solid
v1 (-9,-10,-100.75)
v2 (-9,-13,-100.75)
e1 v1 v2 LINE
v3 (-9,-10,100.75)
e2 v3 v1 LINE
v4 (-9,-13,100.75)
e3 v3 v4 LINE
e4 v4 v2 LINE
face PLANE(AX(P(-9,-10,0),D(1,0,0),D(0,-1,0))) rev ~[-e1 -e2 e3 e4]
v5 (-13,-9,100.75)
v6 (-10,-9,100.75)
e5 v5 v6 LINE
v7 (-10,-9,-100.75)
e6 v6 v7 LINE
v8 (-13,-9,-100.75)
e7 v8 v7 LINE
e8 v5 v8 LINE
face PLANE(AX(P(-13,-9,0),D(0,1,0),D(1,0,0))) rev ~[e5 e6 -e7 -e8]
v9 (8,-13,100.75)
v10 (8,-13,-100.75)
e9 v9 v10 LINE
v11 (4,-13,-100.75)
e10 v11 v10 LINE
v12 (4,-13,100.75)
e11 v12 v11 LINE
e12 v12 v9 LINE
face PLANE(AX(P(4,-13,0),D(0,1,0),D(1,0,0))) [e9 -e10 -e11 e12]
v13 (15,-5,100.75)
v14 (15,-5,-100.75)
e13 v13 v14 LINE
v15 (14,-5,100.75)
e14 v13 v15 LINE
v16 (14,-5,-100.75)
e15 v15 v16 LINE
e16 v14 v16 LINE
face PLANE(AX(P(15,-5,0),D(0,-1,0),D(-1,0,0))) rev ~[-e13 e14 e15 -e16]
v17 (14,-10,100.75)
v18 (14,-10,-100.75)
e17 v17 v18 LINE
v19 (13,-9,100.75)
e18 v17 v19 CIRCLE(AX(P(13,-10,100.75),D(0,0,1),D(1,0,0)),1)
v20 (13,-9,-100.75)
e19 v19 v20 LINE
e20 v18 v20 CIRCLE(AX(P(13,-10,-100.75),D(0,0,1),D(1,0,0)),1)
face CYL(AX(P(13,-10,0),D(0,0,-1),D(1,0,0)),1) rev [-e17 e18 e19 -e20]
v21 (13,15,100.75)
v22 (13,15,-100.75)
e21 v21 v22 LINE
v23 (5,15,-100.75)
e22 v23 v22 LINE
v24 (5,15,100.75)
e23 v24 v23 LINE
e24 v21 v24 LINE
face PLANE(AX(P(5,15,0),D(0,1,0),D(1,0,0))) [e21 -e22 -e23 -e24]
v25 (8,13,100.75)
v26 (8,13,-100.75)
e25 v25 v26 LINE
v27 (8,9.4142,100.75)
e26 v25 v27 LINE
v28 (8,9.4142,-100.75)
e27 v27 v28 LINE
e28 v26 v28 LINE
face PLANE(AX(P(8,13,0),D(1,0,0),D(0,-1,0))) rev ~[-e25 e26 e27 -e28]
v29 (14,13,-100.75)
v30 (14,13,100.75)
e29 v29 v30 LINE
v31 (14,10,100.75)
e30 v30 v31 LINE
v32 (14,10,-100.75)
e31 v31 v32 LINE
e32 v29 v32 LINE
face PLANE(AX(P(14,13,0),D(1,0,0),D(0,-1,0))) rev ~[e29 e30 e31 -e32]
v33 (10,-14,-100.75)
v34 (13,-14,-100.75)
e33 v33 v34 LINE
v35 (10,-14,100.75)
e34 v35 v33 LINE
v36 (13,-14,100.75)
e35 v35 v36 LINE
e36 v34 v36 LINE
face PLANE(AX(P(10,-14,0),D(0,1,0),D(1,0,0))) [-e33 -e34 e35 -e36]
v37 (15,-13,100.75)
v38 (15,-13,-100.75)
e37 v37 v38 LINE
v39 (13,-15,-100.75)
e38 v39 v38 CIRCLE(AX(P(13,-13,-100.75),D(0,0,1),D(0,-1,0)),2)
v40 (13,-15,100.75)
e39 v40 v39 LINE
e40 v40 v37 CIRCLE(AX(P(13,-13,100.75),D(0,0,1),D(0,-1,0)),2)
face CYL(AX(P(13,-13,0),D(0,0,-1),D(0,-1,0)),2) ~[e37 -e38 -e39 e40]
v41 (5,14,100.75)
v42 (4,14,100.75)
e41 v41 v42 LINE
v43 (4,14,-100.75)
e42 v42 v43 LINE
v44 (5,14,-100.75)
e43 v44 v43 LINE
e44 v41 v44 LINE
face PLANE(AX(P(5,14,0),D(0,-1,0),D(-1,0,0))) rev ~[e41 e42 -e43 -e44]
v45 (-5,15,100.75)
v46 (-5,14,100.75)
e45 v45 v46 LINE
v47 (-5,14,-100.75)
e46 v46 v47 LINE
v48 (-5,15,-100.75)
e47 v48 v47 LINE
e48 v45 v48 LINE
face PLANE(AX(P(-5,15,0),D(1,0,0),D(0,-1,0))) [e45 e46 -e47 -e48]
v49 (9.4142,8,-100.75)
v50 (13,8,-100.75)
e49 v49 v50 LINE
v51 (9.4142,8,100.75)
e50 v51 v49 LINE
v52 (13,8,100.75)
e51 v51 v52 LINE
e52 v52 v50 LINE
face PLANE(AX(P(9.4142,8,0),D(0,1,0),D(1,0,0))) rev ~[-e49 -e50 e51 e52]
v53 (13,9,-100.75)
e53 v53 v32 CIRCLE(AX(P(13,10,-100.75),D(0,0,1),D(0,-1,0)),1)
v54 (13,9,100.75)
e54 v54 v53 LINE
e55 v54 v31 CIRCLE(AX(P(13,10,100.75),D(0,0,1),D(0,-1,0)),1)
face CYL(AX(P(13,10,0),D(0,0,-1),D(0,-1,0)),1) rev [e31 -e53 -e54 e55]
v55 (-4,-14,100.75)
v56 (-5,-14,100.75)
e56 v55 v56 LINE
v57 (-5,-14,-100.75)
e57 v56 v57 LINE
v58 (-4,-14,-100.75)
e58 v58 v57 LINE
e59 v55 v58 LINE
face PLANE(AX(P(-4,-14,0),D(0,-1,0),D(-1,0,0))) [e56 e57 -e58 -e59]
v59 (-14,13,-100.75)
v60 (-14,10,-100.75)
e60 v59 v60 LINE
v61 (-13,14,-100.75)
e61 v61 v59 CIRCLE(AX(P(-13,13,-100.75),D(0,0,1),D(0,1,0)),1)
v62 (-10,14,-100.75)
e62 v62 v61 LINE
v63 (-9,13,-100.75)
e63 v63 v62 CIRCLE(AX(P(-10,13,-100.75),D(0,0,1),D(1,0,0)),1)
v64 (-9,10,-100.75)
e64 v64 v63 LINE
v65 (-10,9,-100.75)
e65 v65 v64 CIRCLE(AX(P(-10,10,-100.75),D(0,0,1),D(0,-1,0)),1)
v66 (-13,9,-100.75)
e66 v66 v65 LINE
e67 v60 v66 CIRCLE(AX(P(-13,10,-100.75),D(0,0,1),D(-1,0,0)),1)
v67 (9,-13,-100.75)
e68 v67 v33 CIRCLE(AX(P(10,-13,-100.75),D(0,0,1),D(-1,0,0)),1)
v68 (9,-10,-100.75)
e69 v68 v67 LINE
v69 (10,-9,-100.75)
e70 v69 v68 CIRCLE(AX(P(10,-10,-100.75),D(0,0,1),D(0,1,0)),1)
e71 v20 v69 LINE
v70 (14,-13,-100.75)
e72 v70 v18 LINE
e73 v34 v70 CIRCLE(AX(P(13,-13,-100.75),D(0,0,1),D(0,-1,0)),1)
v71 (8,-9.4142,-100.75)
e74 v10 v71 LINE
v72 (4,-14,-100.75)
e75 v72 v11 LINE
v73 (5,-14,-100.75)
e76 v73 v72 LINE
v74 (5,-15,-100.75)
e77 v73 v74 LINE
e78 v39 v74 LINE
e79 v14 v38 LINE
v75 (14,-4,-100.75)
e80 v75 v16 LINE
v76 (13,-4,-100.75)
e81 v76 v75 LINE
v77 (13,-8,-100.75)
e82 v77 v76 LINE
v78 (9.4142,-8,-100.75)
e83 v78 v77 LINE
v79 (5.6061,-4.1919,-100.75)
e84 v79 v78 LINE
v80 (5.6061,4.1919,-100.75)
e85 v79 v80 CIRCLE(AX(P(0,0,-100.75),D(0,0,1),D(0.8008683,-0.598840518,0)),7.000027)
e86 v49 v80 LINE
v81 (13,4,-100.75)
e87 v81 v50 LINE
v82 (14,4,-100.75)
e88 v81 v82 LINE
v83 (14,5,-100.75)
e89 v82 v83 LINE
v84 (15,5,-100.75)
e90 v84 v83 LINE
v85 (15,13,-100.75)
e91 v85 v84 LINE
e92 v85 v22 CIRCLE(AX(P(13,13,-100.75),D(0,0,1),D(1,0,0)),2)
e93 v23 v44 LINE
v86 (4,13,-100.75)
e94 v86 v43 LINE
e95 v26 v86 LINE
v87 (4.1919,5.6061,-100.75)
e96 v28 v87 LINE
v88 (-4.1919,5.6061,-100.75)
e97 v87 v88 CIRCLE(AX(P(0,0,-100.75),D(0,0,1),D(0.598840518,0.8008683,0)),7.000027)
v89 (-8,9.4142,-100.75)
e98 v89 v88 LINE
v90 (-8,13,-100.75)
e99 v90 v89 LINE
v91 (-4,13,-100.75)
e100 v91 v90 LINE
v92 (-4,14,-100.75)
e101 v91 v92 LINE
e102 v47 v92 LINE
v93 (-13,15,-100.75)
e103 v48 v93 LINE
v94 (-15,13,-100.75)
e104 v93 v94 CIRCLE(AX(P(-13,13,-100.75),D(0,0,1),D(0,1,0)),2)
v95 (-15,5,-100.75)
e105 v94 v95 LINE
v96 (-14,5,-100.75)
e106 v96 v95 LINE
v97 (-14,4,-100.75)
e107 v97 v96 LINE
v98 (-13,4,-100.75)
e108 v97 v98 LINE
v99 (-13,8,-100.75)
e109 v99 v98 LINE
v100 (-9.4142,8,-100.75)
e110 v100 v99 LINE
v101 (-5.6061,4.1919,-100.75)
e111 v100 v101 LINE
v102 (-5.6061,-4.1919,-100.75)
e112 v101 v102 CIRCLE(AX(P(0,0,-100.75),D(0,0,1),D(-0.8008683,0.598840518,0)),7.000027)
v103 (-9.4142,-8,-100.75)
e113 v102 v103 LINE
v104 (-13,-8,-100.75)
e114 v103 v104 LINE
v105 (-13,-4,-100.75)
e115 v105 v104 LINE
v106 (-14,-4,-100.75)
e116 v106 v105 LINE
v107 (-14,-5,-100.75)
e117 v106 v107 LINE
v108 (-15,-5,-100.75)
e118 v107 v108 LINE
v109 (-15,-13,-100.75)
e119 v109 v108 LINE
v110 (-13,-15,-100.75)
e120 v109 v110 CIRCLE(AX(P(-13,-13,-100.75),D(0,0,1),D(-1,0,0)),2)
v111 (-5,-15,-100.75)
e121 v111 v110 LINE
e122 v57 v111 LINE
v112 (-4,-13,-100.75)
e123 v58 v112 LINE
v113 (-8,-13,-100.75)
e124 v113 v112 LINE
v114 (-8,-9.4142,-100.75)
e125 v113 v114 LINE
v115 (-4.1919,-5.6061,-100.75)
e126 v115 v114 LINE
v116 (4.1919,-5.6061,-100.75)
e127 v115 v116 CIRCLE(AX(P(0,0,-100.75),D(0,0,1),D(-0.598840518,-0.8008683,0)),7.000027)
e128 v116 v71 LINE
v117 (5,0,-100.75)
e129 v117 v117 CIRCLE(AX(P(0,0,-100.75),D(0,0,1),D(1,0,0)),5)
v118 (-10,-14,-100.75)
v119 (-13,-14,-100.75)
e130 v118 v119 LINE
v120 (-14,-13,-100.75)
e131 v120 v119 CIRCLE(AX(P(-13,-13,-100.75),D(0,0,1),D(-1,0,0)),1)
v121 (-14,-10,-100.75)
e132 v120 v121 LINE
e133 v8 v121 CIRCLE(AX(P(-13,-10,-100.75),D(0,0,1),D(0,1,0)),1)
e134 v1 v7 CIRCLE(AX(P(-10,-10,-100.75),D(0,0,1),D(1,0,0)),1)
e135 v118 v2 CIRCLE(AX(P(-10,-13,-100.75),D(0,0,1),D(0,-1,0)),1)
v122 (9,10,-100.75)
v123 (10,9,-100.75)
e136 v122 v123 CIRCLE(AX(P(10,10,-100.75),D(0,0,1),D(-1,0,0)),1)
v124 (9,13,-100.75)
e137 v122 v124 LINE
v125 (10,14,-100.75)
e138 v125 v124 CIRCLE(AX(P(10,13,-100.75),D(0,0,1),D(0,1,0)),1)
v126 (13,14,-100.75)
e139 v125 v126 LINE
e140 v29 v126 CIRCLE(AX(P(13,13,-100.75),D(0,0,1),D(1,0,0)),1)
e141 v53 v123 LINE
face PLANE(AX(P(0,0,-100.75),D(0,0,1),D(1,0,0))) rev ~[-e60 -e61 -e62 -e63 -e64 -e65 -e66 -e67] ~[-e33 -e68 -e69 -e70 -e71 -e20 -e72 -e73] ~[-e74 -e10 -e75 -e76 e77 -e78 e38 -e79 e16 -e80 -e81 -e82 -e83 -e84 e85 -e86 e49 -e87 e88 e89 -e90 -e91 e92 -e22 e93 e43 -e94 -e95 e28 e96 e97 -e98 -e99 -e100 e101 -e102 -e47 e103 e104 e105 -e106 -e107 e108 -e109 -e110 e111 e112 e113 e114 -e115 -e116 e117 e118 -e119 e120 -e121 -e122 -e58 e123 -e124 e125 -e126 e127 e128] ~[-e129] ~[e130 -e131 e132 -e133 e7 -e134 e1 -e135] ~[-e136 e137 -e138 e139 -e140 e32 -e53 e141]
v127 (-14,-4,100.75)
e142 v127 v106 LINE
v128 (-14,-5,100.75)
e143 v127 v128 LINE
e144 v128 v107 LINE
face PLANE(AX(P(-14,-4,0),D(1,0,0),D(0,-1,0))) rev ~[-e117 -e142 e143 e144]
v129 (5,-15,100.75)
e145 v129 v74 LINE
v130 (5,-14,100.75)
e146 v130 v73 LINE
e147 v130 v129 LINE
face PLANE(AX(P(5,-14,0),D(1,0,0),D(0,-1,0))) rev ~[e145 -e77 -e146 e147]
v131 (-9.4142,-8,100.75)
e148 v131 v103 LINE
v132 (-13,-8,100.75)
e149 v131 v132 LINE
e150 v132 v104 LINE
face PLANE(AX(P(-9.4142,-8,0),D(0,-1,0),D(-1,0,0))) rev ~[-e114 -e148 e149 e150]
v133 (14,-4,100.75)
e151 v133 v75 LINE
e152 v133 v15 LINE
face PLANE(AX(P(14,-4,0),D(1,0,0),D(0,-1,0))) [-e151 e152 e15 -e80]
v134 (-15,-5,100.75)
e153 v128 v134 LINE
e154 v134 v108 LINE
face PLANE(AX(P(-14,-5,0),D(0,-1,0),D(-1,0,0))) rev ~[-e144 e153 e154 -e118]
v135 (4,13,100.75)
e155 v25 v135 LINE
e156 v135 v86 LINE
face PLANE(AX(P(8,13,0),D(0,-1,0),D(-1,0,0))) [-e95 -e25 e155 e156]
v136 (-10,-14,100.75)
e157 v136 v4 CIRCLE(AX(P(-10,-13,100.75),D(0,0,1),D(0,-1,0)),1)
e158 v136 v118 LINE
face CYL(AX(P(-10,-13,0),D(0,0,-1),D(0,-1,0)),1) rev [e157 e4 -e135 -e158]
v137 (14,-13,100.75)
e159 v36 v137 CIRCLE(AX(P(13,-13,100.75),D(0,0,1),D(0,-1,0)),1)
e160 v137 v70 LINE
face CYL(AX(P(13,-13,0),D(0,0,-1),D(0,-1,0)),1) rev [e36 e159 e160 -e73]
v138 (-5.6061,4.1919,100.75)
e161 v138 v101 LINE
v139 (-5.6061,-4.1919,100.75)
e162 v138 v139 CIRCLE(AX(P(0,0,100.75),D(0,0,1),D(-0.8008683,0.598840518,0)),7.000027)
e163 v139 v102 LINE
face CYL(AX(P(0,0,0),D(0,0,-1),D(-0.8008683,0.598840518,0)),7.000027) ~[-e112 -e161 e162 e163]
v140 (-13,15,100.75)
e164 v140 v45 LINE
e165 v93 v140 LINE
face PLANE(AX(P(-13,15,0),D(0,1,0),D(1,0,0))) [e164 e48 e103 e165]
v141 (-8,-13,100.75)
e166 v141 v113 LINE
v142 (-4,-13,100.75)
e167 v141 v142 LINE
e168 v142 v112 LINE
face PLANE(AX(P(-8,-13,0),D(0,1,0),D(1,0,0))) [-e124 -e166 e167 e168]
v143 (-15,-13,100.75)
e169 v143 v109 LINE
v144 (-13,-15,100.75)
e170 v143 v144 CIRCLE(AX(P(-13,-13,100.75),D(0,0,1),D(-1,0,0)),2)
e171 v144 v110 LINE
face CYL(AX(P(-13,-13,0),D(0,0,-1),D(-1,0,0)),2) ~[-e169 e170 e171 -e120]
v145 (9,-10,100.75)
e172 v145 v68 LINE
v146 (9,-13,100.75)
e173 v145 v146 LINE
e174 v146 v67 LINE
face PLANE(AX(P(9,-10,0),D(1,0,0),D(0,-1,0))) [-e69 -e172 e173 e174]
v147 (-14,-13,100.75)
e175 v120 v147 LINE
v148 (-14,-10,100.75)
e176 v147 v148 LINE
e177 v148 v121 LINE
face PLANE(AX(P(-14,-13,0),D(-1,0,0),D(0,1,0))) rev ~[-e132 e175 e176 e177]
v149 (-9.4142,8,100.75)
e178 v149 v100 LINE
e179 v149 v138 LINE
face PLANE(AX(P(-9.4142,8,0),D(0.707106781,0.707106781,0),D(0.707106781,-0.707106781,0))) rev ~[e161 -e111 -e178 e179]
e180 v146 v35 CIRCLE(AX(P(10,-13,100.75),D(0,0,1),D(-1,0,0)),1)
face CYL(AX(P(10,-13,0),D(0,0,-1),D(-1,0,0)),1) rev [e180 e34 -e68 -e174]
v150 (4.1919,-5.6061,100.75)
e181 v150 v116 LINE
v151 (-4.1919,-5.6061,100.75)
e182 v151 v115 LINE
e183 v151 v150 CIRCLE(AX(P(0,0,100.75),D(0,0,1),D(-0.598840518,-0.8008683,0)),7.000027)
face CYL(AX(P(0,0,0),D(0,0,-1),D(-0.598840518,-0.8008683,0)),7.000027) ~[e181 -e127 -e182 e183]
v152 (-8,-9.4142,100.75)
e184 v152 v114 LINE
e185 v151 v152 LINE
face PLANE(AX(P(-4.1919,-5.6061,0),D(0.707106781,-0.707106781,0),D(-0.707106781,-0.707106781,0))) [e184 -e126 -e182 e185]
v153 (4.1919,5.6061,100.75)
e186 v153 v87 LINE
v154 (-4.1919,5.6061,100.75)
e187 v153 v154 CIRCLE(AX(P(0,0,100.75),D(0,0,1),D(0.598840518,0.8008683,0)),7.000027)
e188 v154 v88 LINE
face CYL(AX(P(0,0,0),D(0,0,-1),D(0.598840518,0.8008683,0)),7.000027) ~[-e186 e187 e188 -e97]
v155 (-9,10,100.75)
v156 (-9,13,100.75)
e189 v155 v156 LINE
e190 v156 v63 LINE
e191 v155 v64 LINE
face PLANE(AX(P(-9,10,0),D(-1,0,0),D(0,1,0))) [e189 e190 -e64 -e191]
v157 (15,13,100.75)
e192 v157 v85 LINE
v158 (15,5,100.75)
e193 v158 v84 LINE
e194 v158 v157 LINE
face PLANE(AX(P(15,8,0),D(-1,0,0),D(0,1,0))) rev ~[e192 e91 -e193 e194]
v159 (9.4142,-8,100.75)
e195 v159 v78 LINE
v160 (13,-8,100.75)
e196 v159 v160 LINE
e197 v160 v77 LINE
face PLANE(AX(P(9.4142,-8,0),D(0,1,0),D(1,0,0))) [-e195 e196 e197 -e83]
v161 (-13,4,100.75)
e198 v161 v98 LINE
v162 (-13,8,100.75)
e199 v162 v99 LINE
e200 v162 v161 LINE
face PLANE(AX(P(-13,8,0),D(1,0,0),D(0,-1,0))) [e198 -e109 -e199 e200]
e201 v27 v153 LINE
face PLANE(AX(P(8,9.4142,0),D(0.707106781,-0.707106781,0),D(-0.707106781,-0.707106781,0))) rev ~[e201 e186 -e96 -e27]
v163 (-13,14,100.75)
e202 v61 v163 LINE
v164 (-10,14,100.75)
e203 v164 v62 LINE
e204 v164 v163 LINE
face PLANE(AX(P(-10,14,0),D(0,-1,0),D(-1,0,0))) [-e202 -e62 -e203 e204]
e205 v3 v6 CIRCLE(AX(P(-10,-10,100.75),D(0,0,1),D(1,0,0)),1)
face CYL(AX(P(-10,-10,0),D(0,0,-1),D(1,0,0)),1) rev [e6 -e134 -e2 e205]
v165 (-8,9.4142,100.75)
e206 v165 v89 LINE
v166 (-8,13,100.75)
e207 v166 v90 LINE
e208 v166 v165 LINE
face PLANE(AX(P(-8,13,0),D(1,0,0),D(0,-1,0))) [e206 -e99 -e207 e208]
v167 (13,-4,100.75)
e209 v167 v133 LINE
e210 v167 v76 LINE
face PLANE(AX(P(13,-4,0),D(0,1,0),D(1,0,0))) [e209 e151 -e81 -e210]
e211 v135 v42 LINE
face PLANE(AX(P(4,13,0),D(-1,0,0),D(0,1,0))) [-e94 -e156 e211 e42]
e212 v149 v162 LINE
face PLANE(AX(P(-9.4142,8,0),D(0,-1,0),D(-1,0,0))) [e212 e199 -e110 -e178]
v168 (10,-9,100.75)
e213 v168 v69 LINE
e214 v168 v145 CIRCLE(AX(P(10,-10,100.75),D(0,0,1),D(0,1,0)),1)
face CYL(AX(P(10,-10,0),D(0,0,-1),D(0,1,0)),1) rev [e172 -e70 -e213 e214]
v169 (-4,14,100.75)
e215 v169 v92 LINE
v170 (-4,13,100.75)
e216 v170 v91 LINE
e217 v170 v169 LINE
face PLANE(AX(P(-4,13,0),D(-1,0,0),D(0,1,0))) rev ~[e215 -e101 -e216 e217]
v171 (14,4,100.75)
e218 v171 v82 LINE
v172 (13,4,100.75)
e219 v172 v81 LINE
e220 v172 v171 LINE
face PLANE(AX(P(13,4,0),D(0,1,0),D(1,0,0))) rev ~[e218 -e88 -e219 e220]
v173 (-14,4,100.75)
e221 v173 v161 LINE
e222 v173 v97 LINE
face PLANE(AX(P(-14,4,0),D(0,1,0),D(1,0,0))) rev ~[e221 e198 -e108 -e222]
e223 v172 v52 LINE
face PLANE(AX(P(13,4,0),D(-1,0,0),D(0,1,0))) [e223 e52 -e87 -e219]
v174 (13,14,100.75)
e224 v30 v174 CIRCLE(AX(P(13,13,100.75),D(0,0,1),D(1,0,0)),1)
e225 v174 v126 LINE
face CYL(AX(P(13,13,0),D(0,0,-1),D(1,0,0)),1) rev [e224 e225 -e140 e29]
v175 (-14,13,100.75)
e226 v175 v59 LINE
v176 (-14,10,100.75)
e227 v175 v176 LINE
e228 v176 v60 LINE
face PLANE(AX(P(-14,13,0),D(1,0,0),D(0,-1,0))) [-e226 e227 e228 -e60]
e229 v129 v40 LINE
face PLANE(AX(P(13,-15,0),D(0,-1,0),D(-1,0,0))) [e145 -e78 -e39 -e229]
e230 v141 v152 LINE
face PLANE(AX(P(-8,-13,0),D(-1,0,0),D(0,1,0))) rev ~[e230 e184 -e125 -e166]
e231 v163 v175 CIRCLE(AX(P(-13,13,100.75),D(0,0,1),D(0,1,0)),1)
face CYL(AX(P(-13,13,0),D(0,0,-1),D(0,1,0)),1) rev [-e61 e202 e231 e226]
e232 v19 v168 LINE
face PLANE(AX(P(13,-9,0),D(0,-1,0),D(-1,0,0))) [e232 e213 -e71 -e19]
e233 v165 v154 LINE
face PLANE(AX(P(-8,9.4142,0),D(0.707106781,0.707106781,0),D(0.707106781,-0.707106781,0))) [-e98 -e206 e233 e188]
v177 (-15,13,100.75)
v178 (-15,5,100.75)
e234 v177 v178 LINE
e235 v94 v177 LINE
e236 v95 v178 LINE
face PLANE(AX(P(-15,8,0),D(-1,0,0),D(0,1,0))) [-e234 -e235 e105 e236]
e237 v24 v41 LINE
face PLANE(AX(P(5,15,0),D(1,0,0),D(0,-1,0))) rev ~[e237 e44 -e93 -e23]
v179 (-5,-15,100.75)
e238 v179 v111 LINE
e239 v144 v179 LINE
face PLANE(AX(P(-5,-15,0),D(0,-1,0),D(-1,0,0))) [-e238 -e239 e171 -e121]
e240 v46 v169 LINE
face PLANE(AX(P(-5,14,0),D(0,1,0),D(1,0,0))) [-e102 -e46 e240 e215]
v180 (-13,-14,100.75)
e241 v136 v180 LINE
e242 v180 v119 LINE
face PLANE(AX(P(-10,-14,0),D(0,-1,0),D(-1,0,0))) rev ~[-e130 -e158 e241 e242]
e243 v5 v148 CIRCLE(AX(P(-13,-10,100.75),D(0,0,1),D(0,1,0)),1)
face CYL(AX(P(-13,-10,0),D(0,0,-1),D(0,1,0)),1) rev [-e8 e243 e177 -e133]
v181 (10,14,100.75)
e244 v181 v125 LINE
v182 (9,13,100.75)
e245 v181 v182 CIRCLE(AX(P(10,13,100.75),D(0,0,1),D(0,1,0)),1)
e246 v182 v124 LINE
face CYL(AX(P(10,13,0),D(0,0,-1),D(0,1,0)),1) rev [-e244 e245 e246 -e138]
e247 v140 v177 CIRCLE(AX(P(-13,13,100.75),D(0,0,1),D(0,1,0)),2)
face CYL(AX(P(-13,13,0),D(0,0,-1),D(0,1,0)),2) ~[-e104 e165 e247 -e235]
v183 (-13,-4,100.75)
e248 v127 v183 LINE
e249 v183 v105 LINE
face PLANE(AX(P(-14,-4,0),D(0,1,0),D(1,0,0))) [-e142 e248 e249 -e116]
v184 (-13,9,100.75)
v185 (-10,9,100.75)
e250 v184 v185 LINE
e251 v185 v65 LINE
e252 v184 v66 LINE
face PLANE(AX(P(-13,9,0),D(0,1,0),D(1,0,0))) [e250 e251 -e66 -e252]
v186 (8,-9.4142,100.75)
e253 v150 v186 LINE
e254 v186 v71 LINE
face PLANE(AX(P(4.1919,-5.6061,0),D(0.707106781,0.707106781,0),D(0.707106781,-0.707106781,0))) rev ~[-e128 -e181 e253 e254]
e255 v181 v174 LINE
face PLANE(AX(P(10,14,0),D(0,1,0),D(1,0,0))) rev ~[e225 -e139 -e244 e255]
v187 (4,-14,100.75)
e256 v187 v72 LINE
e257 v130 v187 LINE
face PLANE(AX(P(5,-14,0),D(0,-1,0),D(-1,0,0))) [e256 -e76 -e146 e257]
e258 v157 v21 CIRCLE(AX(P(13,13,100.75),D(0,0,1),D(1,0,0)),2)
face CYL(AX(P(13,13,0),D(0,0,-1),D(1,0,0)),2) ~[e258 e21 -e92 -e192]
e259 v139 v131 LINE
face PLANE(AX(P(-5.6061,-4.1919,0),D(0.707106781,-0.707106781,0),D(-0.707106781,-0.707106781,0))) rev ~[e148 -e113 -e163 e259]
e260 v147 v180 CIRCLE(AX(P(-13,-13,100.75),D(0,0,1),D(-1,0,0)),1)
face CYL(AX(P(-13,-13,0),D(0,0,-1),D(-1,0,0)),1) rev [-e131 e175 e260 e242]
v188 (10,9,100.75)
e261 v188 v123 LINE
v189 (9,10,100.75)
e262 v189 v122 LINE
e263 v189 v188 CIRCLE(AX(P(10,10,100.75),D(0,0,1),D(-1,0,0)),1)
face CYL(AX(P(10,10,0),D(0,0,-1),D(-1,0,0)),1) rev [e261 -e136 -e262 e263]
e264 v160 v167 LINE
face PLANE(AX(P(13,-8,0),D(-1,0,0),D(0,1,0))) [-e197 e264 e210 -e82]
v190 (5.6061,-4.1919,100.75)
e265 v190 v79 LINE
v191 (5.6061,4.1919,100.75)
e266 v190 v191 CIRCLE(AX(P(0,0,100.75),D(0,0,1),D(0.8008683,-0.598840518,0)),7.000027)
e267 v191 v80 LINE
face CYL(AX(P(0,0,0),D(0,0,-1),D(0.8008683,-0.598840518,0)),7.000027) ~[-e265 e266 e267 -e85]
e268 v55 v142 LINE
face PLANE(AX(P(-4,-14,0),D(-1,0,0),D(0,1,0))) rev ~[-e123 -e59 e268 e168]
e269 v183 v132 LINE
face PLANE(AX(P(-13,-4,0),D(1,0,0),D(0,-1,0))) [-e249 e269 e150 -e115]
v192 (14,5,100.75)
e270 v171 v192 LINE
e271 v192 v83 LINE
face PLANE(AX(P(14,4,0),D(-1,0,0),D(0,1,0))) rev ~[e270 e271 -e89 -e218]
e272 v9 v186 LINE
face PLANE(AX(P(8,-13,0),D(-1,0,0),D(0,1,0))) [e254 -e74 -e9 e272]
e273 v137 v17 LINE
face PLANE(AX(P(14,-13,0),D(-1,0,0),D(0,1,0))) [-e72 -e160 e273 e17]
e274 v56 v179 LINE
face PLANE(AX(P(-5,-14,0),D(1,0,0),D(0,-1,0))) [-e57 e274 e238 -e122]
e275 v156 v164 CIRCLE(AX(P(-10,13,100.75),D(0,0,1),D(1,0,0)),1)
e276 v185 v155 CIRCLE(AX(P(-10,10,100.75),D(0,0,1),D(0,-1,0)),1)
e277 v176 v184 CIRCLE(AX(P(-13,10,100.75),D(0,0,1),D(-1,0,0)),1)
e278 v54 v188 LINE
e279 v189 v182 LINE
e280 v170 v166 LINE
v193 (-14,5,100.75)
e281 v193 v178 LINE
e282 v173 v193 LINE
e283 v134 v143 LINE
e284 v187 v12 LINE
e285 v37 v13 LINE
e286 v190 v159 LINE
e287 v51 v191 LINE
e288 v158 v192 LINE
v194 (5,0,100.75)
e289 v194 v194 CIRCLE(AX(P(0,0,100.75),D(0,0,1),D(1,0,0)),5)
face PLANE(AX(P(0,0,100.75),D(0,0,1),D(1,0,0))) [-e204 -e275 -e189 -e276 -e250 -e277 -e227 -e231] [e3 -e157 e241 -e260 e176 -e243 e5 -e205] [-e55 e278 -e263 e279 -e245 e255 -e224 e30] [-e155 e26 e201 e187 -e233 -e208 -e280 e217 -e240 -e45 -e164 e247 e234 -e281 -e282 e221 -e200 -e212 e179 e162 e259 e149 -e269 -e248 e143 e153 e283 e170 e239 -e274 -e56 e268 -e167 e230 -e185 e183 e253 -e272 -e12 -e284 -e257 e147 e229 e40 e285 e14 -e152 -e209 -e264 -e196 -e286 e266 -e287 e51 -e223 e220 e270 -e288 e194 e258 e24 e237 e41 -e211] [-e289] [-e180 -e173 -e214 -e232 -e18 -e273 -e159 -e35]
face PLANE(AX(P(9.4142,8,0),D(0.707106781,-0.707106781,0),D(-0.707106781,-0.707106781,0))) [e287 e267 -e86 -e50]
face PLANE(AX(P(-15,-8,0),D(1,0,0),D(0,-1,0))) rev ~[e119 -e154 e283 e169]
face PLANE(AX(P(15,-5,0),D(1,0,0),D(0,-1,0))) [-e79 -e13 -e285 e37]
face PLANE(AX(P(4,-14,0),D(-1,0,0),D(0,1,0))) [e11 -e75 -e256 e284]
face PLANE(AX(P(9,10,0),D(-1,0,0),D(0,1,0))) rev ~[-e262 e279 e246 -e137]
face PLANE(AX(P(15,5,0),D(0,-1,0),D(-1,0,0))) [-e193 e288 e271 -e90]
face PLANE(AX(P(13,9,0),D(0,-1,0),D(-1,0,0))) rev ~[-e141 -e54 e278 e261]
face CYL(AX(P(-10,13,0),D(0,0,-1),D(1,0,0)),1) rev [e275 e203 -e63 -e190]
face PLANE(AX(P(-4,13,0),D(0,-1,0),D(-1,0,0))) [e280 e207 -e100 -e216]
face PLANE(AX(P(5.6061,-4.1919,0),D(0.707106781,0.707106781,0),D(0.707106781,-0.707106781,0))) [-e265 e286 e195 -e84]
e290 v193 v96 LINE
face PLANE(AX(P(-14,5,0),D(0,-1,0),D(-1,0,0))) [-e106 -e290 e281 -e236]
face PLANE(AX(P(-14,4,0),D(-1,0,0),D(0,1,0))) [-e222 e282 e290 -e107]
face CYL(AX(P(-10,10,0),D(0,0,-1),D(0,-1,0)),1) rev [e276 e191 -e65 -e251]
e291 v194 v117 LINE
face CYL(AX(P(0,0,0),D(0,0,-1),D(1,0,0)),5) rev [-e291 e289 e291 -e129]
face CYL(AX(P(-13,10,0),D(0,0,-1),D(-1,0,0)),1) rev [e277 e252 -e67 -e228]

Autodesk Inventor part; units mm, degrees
ref_plane "YZ Plane" through (0, 0, 0) normal (1, 0, 0) x (0, 1, 0)
ref_plane "XZ Plane" through (0, 0, 0) normal (0, 1, 0) x (-1, 0, 0)
ref_plane "XY Plane" through (0, 0, 0) normal (0, 0, 1) x (1, 0, 0)
sketch "Sketch1" plane through (0, 0, 0) normal (0, 0, 1) x (1, 0, 0)
  circle A0 centre (0, 0) radius 5
  arc A1 (-13, 15) -> (-15, 13) centre (-13, 13) ccw
  arc A2 (-15, -13) -> (-13, -15) centre (-13, -13) ccw
  arc A3 (13, -15) -> (15, -13) centre (13, -13) ccw
  arc A4 (15, 13) -> (13, 15) centre (13, 13) ccw
  arc A5 (-13, 14) -> (-14, 13) centre (-13, 13) ccw
  arc A6 (-14, -13) -> (-13, -14) centre (-13, -13) ccw
  arc A7 (13, -14) -> (14, -13) centre (13, -13) ccw
  arc A8 (14, 13) -> (13, 14) centre (13, 13) ccw
  line L0 (14, -14) -> (-14, 14) construction
  line L1 (-14, -14) -> (14, 14) construction
  line L2 (15, -15) -> (-15, 15) construction
  line L3 (-15, -15) -> (15, 15) construction
  line L4 (-13, 15) -> (-8, 15)
  line L5 (-8, 13) -> (-8, 8) construction
  line L6 (-9.4142, 8) -> (-13, 8)
  line L7 (-15, 8) -> (-15, 13)
  line L8 (-13, -15) -> (-8, -15)
  line L9 (-8, -13) -> (-8, -9.4142)
  line L10 (-9.4142, -8) -> (-13, -8)
  line L11 (-15, -8) -> (-15, -13)
  line L12 (13, -15) -> (8, -15)
  line L13 (8, -13) -> (8, -9.4142)
  line L14 (9.4142, -8) -> (13, -8)
  line L15 (15, -8) -> (15, -13)
  line L16 (13, 15) -> (8, 15)
  line L17 (8, 13) -> (8, 9.4142)
  line L18 (9.4142, 8) -> (13, 8)
  line L19 (15, 8) -> (15, 13)
  line L20 (-13, 9) -> (-10, 9)
  line L21 (-9, 10) -> (-9, 13)
  line L22 (-10, 14) -> (-13, 14)
  line L23 (-14, 13) -> (-14, 10)
  line L24 (13, 9) -> (10, 9)
  line L25 (9, 10) -> (9, 13)
  line L26 (10, 14) -> (13, 14)
  line L27 (14, 13) -> (14, 10)
  line L28 (13, -9) -> (10, -9)
  line L29 (9, -10) -> (9, -13)
  line L30 (10, -14) -> (13, -14)
  line L31 (14, -13) -> (14, -10)
  line L32 (-13, -9) -> (-10, -9)
  line L33 (-9, -10) -> (-9, -13)
  line L34 (-10, -14) -> (-13, -14)
  line L35 (-14, -13) -> (-14, -10)
  line L36 (-14, 13) -> (-14, 10)
  line L37 (-14, -10) -> (-14, -13)
  line L38 (-14, -13) -> (-14, -10)
  line L39 (-14, 10) -> (-14, 13)
  line L40 (13, -15) -> (5, -15)
  line L41 (-5, -15) -> (-13, -15)
  line L42 (13, -15) -> (5, -15) construction
  line L43 (0, -15) -> (-13, -15) construction
  line L44 (4, -13) -> (8, -13)
  line L45 (-8, -13) -> (-4, -13)
  line L46 (10, -9) -> (13, -9)
  line L47 (14, -10) -> (14, -13)
  line L48 (13, -14) -> (10, -14)
  line L49 (9, -13) -> (9, -10)
  line L50 (5, -14) -> (5, -15)
  line L51 (13, -14) -> (10, -14)
  line L52 (5, -14) -> (4, -14)
  line L53 (4, -14) -> (5, -14)
  line L54 (10, -14) -> (13, -14)
  line L55 (-4, -14) -> (-5, -14)
  line L56 (-10, -14) -> (-13, -14)
  line L57 (-13, -14) -> (-10, -14)
  line L58 (-5, -14) -> (-4, -14)
  line L59 (14, -13) -> (14, -10)
  line L60 (14, 10) -> (14, 13)
  line L61 (14, 13) -> (14, 10)
  line L62 (14, -10) -> (14, -13)
  line L63 (-5, -14) -> (-5, -15)
  line L64 (10, 14) -> (13, 14)
  line L65 (13, 14) -> (10, 14)
  line L66 (-10, 14) -> (-13, 14)
  line L67 (-13, 14) -> (-10, 14)
  line L68 (-5, 15) -> (-5, 14)
  line L69 (-13, 15) -> (-5, 15)
  line L70 (5, 15) -> (13, 15)
  line L71 (-15, 15) -> (-5, 15) construction
  line L72 (5, 15) -> (15, 15) construction
  line L73 (5, 15) -> (5, 14)
  line L74 (8, 13) -> (4, 13)
  line L75 (5, 14) -> (4, 14)
  line L76 (-5, 14) -> (-4, 14)
  line L77 (4, 14) -> (5, 14)
  line L78 (-4, 13) -> (-8, 13)
  line L79 (-4, 14) -> (-5, 14)
  line L80 (4, 13) -> (4, 14)
  line L81 (-4, 13) -> (-4, 14)
  line L82 (-4, -14) -> (-4, -13)
  line L83 (4, -14) -> (4, -13)
  line L84 (-8, 9.4142) -> (-4.1919, 5.6061)
  line L85 (8, 9.4142) -> (4.1919, 5.6061)
  line L86 (9.4142, 8) -> (5.6061, 4.1919)
  line L87 (5.6061, -4.1919) -> (9.4142, -8)
  line L88 (4.1919, -5.6061) -> (8, -9.4142)
  line L89 (-4.1919, -5.6061) -> (-8, -9.4142)
  line L90 (-5.6061, -4.1919) -> (-9.4142, -8)
  line L91 (-9.4142, 8) -> (-5.6061, 4.1919)
  arc A9 (4.1919, 5.6061) -> (-4.1919, 5.6061) centre (0, 0) ccw
  arc A10 (5.6061, -4.1919) -> (5.6061, 4.1919) centre (0, 0) ccw
  arc A11 (-5.6061, 4.1919) -> (-5.6061, -4.1919) centre (0, 0) ccw
  arc A12 (-4.1919, -5.6061) -> (4.1919, -5.6061) centre (0, 0) ccw
  line L92 (-8, 13) -> (-8, 9.4142)
  line L93 (-15, -13) -> (-15, -5) construction
  line L94 (-15, -13) -> (-15, -5)
  line L95 (-15, 5) -> (-15, 13)
  line L96 (15, -5) -> (15, -13) construction
  line L97 (15, 13) -> (15, 5)
  line L98 (15, -5) -> (15, -13)
  line L99 (-14, -4) -> (-14, -5)
  line L100 (14, -4) -> (14, -5)
  line L101 (14, 4) -> (14, 5)
  line L102 (-14, 4) -> (-14, 5)
  line L103 (-13, 8) -> (-13, 4)
  line L104 (13, 4) -> (13, 8)
  line L105 (13, -8) -> (13, -4)
  line L106 (-13, -4) -> (-13, -8)
  line L107 (-14, -5) -> (-15, -5)
  line L108 (15, -5) -> (14, -5)
  line L109 (15, 5) -> (14, 5)
  line L110 (-14, 5) -> (-15, 5)
  line L111 (13, 4) -> (14, 4)
  line L112 (-14, 4) -> (-13, 4)
  line L113 (-14, -4) -> (-13, -4)
  line L114 (13, -4) -> (14, -4)
  arc A13 (-13, -9) -> (-14, -10) centre (-13, -10) ccw
  arc A14 (-9, -10) -> (-10, -9) centre (-10, -10) ccw
  arc A15 (-10, -14) -> (-9, -13) centre (-10, -13) ccw
  arc A16 (10, -9) -> (9, -10) centre (10, -10) ccw
  arc A17 (9, -13) -> (10, -14) centre (10, -13) ccw
  arc A18 (14, -10) -> (13, -9) centre (13, -10) ccw
  arc A19 (10, 14) -> (9, 13) centre (10, 13) ccw
  arc A20 (9, 10) -> (10, 9) centre (10, 10) ccw
  arc A21 (13, 9) -> (14, 10) centre (13, 10) ccw
  arc A22 (-9, 13) -> (-10, 14) centre (-10, 13) ccw
  arc A23 (-10, 9) -> (-9, 10) centre (-10, 10) ccw
  arc A24 (-14, 10) -> (-13, 9) centre (-13, 10) ccw
  point P0 (15, -15)
  point P1 (-5.5858, -7)
  dimension "d0" = 30
  dimension "d1" = 30
  dimension "d2" = 10
  dimension "d4" = 2
  dimension "d11" = 28
  dimension "d12" = 7
  dimension "d13" = 7
  dimension "d15" = 1
  dimension "d16" = 1
  dimension "d17" = 1
  dimension "d18" = 1
  dimension "d19" = 5
  dimension "d23" = 30
  dimension "d27" = 1
  dimension "d30" = 3.5858
  dimension "d31" = 2
  dimension "d32" = 16
  dimension "d33" = 8
  dimension "d34" = 6
  dimension "d35" = 5.5858
extrude "Extrusion1" add sketch "Sketch1" along normal mid plane 201.5
equation "\"d1\" = d0"
properties part number "base_connector" material "Aluminum 6061"
